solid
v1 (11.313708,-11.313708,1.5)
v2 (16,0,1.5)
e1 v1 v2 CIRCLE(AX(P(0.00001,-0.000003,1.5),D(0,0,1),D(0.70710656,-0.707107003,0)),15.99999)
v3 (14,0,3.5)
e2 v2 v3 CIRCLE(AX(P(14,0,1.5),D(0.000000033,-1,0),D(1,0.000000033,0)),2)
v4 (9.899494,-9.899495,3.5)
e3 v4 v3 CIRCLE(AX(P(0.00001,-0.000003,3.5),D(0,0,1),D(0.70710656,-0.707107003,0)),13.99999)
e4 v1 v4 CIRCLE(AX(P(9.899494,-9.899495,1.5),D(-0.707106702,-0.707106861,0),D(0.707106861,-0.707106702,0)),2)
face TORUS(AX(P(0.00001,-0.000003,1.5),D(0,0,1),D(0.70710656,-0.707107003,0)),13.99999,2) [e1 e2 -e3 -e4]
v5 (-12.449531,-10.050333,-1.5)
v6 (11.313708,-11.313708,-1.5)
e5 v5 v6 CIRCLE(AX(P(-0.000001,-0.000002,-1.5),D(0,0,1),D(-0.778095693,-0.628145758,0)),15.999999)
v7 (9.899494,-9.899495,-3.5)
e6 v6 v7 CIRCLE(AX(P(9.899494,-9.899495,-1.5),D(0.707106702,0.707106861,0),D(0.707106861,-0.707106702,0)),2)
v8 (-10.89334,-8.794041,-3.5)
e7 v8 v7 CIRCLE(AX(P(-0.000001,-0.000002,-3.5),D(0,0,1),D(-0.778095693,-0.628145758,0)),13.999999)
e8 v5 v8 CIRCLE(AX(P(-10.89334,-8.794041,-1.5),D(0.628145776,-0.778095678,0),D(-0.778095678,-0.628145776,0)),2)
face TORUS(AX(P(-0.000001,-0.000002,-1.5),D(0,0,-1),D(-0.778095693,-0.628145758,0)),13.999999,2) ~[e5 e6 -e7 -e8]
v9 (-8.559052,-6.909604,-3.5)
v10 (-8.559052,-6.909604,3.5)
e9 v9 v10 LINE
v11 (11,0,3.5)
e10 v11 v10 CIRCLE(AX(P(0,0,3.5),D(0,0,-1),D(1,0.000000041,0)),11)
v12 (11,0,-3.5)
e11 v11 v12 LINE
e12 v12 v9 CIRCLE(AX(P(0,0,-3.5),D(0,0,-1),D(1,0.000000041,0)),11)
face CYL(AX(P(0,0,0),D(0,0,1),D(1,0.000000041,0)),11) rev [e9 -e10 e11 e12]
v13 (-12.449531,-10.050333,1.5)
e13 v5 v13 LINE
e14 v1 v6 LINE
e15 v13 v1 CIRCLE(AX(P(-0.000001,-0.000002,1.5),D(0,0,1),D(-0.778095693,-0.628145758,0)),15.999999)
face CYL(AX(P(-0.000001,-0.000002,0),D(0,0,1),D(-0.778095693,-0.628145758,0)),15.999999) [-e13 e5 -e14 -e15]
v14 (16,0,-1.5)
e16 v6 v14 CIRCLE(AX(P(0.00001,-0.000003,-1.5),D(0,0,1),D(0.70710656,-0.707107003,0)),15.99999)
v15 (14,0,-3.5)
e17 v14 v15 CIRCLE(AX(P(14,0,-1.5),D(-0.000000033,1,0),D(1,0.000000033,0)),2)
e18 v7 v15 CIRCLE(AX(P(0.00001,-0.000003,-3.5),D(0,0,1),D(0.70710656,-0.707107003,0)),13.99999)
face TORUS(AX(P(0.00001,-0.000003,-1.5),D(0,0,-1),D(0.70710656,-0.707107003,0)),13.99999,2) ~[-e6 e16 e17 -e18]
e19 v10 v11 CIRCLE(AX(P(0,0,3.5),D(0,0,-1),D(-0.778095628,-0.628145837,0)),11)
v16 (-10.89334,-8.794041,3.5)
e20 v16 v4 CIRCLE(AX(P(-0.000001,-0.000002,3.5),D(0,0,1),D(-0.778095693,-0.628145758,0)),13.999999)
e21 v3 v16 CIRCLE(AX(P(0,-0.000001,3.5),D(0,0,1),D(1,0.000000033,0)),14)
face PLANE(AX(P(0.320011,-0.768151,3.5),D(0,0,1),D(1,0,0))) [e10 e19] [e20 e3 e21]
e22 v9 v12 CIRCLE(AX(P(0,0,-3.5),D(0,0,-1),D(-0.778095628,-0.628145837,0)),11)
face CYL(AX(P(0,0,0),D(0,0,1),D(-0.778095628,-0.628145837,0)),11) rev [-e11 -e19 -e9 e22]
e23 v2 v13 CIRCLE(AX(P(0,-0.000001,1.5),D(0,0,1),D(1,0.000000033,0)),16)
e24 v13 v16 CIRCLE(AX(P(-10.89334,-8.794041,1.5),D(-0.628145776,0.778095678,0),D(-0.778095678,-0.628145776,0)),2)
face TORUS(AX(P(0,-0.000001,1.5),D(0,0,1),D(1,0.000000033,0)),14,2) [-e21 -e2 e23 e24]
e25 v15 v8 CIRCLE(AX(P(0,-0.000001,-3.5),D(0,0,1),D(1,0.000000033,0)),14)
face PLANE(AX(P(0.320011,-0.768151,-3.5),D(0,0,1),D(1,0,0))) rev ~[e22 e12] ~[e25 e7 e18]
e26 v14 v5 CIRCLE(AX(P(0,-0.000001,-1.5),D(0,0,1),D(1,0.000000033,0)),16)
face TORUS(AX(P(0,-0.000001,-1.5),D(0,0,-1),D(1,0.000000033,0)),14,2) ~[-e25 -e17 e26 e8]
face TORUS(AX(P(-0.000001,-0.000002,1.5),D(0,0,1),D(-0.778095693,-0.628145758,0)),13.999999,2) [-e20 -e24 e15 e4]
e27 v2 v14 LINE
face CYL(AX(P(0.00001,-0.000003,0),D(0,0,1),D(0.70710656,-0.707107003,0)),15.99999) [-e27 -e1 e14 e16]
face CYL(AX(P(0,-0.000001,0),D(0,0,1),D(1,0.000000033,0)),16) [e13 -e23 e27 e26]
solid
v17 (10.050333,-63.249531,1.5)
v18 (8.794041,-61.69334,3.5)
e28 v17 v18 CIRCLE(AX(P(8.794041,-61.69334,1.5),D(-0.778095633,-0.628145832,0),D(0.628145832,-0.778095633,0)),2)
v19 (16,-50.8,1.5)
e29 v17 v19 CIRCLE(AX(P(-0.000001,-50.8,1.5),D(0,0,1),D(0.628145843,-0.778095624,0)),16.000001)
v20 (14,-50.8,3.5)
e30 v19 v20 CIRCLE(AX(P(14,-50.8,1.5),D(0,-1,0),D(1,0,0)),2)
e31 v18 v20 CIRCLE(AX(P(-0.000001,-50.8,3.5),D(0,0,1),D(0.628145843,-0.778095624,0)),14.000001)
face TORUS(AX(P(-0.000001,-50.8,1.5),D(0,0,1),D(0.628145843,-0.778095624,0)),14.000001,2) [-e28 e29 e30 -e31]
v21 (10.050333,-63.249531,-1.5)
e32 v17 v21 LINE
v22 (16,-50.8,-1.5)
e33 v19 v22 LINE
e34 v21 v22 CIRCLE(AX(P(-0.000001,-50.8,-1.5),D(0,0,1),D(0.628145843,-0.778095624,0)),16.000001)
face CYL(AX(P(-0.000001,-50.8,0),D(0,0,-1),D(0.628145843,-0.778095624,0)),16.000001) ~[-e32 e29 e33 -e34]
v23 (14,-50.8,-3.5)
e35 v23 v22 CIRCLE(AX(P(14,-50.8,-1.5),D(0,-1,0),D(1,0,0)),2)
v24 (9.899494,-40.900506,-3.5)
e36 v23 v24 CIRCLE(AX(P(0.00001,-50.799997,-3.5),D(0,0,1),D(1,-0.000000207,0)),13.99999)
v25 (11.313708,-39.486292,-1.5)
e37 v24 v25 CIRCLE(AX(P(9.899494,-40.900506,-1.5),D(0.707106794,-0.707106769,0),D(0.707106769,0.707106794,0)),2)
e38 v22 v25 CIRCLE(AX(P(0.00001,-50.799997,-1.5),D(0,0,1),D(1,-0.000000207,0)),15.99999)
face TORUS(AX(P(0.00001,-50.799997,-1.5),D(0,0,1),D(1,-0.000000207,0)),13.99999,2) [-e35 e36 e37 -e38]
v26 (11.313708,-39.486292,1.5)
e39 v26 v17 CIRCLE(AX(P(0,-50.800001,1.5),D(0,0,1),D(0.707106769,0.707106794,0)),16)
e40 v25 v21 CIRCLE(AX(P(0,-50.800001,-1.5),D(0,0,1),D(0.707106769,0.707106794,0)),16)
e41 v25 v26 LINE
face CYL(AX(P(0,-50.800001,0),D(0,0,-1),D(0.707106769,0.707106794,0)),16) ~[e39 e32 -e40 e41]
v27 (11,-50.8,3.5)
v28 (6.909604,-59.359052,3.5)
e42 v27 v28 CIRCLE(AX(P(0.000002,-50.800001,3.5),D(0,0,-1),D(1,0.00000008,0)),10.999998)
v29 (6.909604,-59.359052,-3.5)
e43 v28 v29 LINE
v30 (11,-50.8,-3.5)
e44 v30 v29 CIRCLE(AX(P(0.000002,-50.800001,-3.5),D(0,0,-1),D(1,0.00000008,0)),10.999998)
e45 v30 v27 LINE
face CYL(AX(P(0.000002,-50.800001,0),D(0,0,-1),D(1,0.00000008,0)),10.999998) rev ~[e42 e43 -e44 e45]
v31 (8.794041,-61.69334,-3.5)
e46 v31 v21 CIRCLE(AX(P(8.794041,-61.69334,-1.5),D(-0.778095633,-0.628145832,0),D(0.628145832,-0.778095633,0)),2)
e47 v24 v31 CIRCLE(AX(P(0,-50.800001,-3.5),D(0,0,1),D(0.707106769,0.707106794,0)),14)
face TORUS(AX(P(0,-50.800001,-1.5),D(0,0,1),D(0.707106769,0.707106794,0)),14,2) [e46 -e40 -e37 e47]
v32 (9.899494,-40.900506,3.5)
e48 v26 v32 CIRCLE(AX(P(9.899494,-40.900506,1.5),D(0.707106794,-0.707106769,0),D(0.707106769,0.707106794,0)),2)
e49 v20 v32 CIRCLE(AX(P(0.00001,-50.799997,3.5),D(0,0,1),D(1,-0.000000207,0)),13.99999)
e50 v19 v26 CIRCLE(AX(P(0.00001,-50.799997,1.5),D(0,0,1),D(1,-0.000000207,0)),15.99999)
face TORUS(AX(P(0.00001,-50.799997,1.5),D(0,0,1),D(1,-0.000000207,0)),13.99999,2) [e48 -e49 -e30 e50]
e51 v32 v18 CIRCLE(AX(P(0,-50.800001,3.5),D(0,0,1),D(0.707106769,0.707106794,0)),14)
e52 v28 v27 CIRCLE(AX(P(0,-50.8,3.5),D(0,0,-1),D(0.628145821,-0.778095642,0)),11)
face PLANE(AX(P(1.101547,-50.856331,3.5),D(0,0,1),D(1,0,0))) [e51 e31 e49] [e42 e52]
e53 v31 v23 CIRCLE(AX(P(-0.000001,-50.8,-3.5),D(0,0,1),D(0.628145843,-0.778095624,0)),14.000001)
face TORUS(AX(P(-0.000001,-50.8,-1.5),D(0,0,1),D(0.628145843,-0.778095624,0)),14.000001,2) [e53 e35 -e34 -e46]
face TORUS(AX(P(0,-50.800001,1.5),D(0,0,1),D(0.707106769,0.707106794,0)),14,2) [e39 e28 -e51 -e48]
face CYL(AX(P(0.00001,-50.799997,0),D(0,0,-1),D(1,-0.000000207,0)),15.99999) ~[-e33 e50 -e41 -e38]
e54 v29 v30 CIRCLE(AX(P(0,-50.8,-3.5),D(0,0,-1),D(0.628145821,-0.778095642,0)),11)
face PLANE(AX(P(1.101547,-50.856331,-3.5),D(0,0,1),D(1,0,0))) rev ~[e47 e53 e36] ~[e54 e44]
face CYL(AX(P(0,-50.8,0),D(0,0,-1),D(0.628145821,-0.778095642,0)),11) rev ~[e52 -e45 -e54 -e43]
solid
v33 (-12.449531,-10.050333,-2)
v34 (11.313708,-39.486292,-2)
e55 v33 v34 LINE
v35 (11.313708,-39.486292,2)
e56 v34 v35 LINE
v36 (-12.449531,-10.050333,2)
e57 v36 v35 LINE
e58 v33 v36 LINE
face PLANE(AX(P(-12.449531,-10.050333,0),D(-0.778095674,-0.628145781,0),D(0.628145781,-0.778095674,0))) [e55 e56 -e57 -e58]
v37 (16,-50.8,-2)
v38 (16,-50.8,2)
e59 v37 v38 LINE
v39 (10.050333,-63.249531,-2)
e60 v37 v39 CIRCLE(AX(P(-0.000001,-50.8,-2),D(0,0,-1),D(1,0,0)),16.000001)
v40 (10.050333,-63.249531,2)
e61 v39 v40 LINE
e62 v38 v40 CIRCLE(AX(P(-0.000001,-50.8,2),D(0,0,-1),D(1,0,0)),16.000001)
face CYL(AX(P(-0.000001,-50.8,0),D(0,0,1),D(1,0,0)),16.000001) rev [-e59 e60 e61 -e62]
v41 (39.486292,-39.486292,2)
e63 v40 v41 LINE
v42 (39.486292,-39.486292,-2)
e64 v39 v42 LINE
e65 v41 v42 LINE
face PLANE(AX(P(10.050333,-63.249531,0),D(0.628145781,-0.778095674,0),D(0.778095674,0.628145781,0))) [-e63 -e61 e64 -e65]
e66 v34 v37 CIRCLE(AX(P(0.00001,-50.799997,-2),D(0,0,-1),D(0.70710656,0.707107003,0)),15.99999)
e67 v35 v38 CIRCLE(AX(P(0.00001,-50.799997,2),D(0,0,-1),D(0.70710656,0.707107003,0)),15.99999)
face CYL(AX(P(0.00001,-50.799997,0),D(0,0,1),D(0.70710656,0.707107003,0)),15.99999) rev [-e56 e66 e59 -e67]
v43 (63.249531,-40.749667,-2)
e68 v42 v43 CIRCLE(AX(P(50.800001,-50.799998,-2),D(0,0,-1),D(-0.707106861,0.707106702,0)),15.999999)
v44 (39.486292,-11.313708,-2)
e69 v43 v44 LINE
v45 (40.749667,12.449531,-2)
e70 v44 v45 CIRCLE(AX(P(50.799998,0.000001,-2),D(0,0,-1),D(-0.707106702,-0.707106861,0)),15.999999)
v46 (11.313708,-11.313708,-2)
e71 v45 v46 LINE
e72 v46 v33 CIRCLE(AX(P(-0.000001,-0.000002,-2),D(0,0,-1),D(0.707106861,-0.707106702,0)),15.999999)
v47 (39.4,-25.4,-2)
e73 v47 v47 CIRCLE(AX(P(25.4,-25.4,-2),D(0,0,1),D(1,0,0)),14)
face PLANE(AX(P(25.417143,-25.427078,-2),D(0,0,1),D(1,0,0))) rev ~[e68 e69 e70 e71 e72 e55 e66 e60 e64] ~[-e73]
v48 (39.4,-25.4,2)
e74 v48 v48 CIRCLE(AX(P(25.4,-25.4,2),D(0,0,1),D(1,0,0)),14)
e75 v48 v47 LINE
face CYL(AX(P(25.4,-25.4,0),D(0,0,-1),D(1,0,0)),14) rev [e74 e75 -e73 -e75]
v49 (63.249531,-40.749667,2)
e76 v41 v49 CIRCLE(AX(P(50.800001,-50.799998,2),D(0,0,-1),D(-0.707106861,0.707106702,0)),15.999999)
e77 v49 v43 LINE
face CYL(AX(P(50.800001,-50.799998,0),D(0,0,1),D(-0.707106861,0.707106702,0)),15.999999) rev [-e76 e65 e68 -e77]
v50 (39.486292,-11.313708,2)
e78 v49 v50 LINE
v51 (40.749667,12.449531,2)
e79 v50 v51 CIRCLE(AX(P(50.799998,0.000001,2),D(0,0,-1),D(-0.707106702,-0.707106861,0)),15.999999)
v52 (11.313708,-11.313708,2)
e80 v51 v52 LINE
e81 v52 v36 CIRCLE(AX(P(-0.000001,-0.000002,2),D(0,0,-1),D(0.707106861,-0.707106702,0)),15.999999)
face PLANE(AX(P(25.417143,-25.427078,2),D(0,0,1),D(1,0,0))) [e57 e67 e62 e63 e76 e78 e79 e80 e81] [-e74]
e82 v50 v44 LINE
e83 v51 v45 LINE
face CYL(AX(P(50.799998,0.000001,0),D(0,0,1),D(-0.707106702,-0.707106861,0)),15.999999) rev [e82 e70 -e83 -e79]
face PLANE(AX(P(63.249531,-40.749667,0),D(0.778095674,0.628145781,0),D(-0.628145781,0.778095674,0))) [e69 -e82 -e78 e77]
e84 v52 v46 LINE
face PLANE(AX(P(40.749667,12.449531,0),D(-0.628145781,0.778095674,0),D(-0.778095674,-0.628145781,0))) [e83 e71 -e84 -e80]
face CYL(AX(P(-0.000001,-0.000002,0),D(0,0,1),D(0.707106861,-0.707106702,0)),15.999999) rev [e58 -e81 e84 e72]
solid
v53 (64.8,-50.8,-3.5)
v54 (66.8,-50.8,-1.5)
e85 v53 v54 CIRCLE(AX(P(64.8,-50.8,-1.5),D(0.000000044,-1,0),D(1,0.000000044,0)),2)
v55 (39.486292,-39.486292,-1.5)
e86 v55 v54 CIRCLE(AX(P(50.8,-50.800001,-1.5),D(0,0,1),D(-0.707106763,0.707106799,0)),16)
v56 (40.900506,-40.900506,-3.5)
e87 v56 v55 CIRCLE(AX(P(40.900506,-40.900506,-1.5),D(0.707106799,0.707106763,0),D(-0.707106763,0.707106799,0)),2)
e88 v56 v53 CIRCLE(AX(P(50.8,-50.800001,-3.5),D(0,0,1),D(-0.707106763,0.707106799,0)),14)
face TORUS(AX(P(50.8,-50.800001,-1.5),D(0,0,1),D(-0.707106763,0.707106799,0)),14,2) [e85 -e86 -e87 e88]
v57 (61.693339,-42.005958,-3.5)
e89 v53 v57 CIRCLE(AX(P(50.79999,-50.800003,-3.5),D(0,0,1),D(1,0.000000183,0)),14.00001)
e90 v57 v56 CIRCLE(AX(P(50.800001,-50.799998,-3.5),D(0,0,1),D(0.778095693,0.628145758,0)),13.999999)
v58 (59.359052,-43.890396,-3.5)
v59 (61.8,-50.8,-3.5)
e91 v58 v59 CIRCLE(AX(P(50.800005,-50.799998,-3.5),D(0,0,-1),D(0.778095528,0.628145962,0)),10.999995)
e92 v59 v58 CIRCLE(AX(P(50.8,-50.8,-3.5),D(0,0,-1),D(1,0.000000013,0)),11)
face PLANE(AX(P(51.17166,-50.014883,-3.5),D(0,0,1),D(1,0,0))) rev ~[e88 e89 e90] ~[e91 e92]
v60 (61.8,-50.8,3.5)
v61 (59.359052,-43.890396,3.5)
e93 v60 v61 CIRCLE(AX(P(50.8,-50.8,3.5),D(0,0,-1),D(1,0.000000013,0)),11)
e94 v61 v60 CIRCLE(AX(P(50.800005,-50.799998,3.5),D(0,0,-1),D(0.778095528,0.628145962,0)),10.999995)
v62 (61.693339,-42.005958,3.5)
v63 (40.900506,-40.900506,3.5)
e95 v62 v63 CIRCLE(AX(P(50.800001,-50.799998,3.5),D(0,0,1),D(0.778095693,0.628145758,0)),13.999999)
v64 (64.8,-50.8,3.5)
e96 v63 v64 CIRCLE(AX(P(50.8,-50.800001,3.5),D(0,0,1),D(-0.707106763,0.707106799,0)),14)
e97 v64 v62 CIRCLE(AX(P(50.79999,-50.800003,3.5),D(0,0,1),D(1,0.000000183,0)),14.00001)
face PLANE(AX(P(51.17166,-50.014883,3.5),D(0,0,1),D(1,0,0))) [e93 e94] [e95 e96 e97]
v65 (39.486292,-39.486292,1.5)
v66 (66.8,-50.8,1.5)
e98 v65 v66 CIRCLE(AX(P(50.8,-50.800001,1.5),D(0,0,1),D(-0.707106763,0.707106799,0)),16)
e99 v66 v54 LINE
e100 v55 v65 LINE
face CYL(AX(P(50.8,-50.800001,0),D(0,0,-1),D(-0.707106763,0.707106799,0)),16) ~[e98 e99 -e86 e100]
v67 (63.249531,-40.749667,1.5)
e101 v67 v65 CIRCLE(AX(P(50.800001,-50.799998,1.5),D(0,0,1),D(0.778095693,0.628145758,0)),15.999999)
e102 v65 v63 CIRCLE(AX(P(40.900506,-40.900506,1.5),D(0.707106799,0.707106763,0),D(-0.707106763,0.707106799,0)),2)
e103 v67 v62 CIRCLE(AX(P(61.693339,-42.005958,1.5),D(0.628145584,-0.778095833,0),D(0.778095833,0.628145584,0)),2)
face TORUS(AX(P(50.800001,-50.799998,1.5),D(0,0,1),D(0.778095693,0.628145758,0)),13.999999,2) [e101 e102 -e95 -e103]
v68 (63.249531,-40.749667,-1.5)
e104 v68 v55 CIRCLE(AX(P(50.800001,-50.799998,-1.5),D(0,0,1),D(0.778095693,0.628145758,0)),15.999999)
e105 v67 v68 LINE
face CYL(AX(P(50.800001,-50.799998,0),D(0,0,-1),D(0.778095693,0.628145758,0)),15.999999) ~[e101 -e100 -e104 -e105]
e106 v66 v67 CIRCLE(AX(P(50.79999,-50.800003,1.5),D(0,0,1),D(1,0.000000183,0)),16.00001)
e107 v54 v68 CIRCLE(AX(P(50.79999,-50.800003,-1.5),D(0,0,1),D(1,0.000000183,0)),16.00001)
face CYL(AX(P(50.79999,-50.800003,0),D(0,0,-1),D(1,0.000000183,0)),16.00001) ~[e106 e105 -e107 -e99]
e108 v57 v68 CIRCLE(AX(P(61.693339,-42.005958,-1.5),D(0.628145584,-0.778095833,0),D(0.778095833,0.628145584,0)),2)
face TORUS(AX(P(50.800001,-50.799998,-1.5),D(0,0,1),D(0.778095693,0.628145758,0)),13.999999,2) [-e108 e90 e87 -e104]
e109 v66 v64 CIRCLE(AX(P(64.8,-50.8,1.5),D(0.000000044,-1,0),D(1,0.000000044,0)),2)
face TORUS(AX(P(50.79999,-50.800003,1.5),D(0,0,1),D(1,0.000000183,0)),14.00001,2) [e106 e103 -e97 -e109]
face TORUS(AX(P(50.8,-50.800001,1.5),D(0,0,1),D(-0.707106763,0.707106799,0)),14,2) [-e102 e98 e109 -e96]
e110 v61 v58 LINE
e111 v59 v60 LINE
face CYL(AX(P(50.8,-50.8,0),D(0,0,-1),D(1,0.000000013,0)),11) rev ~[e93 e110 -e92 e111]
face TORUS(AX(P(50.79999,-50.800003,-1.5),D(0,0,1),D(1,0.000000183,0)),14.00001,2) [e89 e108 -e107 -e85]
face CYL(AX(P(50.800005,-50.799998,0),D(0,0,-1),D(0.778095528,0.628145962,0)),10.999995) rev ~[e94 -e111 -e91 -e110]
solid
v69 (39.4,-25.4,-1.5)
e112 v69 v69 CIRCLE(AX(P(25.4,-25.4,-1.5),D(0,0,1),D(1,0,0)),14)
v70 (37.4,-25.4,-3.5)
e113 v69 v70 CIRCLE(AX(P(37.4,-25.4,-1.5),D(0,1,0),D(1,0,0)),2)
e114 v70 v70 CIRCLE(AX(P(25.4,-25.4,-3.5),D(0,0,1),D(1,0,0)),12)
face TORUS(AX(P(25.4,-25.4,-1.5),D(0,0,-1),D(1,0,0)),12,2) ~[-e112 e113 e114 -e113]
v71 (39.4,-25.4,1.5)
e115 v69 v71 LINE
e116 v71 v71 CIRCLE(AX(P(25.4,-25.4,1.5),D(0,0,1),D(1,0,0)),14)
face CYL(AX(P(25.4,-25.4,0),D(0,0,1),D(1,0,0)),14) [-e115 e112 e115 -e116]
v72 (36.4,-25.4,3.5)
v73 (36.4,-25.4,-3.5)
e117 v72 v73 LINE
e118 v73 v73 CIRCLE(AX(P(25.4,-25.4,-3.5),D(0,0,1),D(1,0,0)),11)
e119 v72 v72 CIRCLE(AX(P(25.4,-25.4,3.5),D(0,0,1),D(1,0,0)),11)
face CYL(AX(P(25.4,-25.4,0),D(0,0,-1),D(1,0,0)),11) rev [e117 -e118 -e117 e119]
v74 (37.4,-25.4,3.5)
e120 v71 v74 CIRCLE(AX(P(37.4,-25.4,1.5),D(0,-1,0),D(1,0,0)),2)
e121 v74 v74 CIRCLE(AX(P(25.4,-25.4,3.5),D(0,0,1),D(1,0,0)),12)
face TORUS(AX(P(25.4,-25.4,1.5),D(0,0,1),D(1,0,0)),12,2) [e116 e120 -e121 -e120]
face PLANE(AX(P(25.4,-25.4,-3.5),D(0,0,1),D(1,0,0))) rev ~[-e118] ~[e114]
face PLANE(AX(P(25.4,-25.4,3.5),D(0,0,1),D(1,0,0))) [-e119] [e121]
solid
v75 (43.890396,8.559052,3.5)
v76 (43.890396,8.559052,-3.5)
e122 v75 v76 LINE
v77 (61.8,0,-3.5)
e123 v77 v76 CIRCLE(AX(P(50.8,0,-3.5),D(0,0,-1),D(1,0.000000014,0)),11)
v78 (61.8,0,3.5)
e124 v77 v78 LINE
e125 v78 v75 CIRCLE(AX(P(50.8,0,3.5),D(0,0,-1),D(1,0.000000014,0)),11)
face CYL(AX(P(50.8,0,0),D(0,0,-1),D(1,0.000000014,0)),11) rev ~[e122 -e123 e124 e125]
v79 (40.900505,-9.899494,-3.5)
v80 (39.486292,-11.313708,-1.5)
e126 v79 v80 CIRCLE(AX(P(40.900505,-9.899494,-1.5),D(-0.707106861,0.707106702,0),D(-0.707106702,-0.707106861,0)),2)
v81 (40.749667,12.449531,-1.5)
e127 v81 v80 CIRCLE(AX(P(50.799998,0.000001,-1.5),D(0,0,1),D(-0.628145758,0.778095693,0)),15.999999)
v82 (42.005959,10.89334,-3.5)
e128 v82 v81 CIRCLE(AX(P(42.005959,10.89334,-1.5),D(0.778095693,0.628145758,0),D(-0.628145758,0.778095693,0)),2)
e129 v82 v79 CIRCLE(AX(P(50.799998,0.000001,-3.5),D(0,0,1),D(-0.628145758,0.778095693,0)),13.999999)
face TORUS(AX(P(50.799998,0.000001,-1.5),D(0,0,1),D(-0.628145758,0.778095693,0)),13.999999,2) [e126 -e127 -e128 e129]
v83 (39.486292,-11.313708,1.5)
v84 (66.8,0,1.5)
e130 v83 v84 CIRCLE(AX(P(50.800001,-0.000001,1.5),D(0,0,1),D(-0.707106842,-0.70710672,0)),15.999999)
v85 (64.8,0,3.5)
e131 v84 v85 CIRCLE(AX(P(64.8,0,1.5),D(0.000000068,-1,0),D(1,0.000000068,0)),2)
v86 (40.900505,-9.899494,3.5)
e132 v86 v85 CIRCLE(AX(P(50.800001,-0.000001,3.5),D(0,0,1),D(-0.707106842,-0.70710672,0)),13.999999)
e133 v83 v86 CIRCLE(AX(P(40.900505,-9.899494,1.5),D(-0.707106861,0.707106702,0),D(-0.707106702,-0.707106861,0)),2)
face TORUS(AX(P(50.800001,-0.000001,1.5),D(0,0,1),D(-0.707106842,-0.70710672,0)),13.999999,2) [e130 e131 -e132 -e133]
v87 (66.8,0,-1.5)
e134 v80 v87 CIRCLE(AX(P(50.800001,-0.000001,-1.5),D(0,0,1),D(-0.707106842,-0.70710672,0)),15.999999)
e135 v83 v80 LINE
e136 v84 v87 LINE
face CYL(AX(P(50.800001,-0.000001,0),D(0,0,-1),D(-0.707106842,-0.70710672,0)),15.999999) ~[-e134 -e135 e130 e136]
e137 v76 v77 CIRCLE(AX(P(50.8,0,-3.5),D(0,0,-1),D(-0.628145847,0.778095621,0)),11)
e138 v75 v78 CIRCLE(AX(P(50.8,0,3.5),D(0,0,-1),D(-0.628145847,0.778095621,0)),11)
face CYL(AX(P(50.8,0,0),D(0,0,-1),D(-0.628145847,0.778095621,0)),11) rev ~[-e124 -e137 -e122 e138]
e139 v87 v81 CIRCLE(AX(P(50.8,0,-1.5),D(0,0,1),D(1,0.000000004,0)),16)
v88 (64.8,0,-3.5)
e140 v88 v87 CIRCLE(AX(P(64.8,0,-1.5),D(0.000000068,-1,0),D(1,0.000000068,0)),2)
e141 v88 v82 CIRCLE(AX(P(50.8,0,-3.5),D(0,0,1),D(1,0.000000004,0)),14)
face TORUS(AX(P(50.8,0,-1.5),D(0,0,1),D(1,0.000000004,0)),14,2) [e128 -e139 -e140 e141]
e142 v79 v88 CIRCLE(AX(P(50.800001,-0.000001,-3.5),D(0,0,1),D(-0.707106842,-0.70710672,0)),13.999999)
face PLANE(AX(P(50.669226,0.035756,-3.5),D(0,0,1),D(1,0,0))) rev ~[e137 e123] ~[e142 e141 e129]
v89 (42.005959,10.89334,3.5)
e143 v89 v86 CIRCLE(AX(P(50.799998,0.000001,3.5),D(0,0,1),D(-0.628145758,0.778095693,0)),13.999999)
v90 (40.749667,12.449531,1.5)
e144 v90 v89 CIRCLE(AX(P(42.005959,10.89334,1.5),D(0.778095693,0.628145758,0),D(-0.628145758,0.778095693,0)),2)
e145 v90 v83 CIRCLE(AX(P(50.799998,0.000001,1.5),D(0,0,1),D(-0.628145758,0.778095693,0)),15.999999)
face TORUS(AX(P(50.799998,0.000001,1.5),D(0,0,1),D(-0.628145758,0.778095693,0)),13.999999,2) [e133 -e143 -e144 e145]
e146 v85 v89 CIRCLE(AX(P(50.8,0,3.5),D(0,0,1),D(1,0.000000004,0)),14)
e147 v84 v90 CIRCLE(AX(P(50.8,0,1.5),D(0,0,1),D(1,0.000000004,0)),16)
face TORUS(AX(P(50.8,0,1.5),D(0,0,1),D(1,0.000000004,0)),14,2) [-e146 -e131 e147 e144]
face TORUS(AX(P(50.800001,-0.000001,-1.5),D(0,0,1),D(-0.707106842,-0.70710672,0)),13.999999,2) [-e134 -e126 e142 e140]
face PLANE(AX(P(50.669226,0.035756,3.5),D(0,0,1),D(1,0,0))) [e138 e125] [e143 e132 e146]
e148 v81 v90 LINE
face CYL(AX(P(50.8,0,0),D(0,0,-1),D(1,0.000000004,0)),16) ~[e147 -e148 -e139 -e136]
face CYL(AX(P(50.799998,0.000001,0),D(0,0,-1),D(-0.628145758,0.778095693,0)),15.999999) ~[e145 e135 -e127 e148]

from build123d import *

# Parameters (mm, degrees)
F0_R     = 14
F1_DEPTH = 2
F2_DEPTH = 3.5
F0_R_2   = 11
F3_DEPTH = 3.5
F4_R     = 2
F4_2_R   = 2


with BuildPart() as f1:
    # F0 (on Top) → F1 (new body, symmetric)
    with BuildSketch(Plane.XY):
        with BuildLine():
            ThreePointArc((11.313708, -11.313708), (-0.849443, -15.977436), (-12.449531, -10.050333))
            Line((-12.449531, -10.050333), (11.313708, -39.486292))
            ThreePointArc((11.313708, -39.486292), (14.782073, -44.677065), (16, -50.8))
            ThreePointArc((16, -50.8), (14.436158, -57.699083), (10.050333, -63.249531))
            Line((10.050333, -63.249531), (39.486292, -39.486292))
            ThreePointArc((39.486292, -39.486292), (51.649443, -34.822564), (63.249531, -40.749667))
            Line((63.249531, -40.749667), (39.486292, -11.313708))
            ThreePointArc((39.486292, -11.313708), (34.822564, 0.849443), (40.749667, 12.449531))
            Line((40.749667, 12.449531), (11.313708, -11.313708))
        make_face()
        with Locations((25.4, -25.4)):
            Circle(F0_R, mode=Mode.SUBTRACT)
    extrude(amount=F1_DEPTH, both=True)


with BuildPart() as f2:
    # F0 (on Top) → F2 (new body, symmetric)
    with BuildSketch(Plane.XY):
        with BuildLine():
            ThreePointArc((16, -50.8), (14.782073, -44.677065), (11.313708, -39.486292))
            ThreePointArc((11.313708, -39.486292), (-15.977436, -49.950557), (10.050333, -63.249531))
            ThreePointArc((10.050333, -63.249531), (14.436158, -57.699083), (16, -50.8))
        make_face()
        with BuildLine():
            ThreePointArc((11, -50.8), (9.924859, -55.543119), (6.909604, -59.359052))
            ThreePointArc((6.909604, -59.359052), (-9.924859, -46.056881), (11, -50.8))
        make_face(mode=Mode.SUBTRACT)
        with BuildLine():
            ThreePointArc((63.249531, -40.749667), (51.649443, -34.822564), (39.486292, -39.486292))
            ThreePointArc((39.486292, -39.486292), (44.677065, -65.582073), (66.8, -50.8))
            ThreePointArc((66.8, -50.8), (65.886293, -45.470483), (63.249531, -40.749667))
        make_face()
        with BuildLine():
            ThreePointArc((61.8, -50.8), (40.428173, -54.464043), (59.359052, -43.890396))
            ThreePointArc((59.359052, -43.890396), (61.171827, -47.135957), (61.8, -50.8))
        make_face(mode=Mode.SUBTRACT)
        with BuildLine():
            ThreePointArc((66.8, 0), (57.699083, 14.436158), (40.749667, 12.449531))
            ThreePointArc((40.749667, 12.449531), (34.822564, 0.849443), (39.486292, -11.313708))
            ThreePointArc((39.486292, -11.313708), (56.922935, -14.782073), (66.8, 0))
        make_face()
        with BuildLine():
            ThreePointArc((61.8, 0), (46.056881, -9.924859), (43.890396, 8.559052))
            ThreePointArc((43.890396, 8.559052), (55.543119, 9.924859), (61.8, 0))
        make_face(mode=Mode.SUBTRACT)
        with BuildLine():
            ThreePointArc((16, 0), (-5.329517, 15.086293), (-12.449531, -10.050333))
            ThreePointArc((-12.449531, -10.050333), (-0.849443, -15.977436), (11.313708, -11.313708))
            ThreePointArc((11.313708, -11.313708), (14.782073, -6.122935), (16, 0))
        make_face()
        with BuildLine():
            ThreePointArc((-8.559052, -6.909604), (-3.664043, 10.371827), (11, 0))
            ThreePointArc((11, 0), (3.664043, -10.371827), (-8.559052, -6.909604))
        make_face(mode=Mode.SUBTRACT)
    extrude(amount=F2_DEPTH, both=True)

    # F4
    f4_edges = [f2.edges().sort_by_distance(p)[0] for p in [
        (-15.977436, -49.950557, 3.5),
        (44.677065, -65.582073, 3.5),
        (34.822564, 0.849443, 3.5),
        (-5.329517, 15.086293, 3.5),
        (-15.977436, -49.950557, -3.5),
        (44.677065, -65.582073, -3.5),
        (-5.329517, 15.086293, -3.5),
        (34.822564, 0.849443, -3.5),
    ]]
    fillet(f4_edges, radius=F4_R)


with BuildPart() as f3:
    # F0 (on Top) → F3 (new body, symmetric)
    with BuildSketch(Plane.XY):
        with Locations((25.4, -25.4)):
            Circle(F0_R)
        with Locations((25.4, -25.4)):
            Circle(F0_R_2, mode=Mode.SUBTRACT)
    extrude(amount=F3_DEPTH, both=True)

    # F4#2
    f4_2_edges = [f3.edges().sort_by_distance(p)[0] for p in [
        (11.4, -25.4, 3.5),
        (11.4, -25.4, -3.5),
    ]]
    fillet(f4_2_edges, radius=F4_2_R)


solid = Compound([f1.part, f2.part, f3.part])
